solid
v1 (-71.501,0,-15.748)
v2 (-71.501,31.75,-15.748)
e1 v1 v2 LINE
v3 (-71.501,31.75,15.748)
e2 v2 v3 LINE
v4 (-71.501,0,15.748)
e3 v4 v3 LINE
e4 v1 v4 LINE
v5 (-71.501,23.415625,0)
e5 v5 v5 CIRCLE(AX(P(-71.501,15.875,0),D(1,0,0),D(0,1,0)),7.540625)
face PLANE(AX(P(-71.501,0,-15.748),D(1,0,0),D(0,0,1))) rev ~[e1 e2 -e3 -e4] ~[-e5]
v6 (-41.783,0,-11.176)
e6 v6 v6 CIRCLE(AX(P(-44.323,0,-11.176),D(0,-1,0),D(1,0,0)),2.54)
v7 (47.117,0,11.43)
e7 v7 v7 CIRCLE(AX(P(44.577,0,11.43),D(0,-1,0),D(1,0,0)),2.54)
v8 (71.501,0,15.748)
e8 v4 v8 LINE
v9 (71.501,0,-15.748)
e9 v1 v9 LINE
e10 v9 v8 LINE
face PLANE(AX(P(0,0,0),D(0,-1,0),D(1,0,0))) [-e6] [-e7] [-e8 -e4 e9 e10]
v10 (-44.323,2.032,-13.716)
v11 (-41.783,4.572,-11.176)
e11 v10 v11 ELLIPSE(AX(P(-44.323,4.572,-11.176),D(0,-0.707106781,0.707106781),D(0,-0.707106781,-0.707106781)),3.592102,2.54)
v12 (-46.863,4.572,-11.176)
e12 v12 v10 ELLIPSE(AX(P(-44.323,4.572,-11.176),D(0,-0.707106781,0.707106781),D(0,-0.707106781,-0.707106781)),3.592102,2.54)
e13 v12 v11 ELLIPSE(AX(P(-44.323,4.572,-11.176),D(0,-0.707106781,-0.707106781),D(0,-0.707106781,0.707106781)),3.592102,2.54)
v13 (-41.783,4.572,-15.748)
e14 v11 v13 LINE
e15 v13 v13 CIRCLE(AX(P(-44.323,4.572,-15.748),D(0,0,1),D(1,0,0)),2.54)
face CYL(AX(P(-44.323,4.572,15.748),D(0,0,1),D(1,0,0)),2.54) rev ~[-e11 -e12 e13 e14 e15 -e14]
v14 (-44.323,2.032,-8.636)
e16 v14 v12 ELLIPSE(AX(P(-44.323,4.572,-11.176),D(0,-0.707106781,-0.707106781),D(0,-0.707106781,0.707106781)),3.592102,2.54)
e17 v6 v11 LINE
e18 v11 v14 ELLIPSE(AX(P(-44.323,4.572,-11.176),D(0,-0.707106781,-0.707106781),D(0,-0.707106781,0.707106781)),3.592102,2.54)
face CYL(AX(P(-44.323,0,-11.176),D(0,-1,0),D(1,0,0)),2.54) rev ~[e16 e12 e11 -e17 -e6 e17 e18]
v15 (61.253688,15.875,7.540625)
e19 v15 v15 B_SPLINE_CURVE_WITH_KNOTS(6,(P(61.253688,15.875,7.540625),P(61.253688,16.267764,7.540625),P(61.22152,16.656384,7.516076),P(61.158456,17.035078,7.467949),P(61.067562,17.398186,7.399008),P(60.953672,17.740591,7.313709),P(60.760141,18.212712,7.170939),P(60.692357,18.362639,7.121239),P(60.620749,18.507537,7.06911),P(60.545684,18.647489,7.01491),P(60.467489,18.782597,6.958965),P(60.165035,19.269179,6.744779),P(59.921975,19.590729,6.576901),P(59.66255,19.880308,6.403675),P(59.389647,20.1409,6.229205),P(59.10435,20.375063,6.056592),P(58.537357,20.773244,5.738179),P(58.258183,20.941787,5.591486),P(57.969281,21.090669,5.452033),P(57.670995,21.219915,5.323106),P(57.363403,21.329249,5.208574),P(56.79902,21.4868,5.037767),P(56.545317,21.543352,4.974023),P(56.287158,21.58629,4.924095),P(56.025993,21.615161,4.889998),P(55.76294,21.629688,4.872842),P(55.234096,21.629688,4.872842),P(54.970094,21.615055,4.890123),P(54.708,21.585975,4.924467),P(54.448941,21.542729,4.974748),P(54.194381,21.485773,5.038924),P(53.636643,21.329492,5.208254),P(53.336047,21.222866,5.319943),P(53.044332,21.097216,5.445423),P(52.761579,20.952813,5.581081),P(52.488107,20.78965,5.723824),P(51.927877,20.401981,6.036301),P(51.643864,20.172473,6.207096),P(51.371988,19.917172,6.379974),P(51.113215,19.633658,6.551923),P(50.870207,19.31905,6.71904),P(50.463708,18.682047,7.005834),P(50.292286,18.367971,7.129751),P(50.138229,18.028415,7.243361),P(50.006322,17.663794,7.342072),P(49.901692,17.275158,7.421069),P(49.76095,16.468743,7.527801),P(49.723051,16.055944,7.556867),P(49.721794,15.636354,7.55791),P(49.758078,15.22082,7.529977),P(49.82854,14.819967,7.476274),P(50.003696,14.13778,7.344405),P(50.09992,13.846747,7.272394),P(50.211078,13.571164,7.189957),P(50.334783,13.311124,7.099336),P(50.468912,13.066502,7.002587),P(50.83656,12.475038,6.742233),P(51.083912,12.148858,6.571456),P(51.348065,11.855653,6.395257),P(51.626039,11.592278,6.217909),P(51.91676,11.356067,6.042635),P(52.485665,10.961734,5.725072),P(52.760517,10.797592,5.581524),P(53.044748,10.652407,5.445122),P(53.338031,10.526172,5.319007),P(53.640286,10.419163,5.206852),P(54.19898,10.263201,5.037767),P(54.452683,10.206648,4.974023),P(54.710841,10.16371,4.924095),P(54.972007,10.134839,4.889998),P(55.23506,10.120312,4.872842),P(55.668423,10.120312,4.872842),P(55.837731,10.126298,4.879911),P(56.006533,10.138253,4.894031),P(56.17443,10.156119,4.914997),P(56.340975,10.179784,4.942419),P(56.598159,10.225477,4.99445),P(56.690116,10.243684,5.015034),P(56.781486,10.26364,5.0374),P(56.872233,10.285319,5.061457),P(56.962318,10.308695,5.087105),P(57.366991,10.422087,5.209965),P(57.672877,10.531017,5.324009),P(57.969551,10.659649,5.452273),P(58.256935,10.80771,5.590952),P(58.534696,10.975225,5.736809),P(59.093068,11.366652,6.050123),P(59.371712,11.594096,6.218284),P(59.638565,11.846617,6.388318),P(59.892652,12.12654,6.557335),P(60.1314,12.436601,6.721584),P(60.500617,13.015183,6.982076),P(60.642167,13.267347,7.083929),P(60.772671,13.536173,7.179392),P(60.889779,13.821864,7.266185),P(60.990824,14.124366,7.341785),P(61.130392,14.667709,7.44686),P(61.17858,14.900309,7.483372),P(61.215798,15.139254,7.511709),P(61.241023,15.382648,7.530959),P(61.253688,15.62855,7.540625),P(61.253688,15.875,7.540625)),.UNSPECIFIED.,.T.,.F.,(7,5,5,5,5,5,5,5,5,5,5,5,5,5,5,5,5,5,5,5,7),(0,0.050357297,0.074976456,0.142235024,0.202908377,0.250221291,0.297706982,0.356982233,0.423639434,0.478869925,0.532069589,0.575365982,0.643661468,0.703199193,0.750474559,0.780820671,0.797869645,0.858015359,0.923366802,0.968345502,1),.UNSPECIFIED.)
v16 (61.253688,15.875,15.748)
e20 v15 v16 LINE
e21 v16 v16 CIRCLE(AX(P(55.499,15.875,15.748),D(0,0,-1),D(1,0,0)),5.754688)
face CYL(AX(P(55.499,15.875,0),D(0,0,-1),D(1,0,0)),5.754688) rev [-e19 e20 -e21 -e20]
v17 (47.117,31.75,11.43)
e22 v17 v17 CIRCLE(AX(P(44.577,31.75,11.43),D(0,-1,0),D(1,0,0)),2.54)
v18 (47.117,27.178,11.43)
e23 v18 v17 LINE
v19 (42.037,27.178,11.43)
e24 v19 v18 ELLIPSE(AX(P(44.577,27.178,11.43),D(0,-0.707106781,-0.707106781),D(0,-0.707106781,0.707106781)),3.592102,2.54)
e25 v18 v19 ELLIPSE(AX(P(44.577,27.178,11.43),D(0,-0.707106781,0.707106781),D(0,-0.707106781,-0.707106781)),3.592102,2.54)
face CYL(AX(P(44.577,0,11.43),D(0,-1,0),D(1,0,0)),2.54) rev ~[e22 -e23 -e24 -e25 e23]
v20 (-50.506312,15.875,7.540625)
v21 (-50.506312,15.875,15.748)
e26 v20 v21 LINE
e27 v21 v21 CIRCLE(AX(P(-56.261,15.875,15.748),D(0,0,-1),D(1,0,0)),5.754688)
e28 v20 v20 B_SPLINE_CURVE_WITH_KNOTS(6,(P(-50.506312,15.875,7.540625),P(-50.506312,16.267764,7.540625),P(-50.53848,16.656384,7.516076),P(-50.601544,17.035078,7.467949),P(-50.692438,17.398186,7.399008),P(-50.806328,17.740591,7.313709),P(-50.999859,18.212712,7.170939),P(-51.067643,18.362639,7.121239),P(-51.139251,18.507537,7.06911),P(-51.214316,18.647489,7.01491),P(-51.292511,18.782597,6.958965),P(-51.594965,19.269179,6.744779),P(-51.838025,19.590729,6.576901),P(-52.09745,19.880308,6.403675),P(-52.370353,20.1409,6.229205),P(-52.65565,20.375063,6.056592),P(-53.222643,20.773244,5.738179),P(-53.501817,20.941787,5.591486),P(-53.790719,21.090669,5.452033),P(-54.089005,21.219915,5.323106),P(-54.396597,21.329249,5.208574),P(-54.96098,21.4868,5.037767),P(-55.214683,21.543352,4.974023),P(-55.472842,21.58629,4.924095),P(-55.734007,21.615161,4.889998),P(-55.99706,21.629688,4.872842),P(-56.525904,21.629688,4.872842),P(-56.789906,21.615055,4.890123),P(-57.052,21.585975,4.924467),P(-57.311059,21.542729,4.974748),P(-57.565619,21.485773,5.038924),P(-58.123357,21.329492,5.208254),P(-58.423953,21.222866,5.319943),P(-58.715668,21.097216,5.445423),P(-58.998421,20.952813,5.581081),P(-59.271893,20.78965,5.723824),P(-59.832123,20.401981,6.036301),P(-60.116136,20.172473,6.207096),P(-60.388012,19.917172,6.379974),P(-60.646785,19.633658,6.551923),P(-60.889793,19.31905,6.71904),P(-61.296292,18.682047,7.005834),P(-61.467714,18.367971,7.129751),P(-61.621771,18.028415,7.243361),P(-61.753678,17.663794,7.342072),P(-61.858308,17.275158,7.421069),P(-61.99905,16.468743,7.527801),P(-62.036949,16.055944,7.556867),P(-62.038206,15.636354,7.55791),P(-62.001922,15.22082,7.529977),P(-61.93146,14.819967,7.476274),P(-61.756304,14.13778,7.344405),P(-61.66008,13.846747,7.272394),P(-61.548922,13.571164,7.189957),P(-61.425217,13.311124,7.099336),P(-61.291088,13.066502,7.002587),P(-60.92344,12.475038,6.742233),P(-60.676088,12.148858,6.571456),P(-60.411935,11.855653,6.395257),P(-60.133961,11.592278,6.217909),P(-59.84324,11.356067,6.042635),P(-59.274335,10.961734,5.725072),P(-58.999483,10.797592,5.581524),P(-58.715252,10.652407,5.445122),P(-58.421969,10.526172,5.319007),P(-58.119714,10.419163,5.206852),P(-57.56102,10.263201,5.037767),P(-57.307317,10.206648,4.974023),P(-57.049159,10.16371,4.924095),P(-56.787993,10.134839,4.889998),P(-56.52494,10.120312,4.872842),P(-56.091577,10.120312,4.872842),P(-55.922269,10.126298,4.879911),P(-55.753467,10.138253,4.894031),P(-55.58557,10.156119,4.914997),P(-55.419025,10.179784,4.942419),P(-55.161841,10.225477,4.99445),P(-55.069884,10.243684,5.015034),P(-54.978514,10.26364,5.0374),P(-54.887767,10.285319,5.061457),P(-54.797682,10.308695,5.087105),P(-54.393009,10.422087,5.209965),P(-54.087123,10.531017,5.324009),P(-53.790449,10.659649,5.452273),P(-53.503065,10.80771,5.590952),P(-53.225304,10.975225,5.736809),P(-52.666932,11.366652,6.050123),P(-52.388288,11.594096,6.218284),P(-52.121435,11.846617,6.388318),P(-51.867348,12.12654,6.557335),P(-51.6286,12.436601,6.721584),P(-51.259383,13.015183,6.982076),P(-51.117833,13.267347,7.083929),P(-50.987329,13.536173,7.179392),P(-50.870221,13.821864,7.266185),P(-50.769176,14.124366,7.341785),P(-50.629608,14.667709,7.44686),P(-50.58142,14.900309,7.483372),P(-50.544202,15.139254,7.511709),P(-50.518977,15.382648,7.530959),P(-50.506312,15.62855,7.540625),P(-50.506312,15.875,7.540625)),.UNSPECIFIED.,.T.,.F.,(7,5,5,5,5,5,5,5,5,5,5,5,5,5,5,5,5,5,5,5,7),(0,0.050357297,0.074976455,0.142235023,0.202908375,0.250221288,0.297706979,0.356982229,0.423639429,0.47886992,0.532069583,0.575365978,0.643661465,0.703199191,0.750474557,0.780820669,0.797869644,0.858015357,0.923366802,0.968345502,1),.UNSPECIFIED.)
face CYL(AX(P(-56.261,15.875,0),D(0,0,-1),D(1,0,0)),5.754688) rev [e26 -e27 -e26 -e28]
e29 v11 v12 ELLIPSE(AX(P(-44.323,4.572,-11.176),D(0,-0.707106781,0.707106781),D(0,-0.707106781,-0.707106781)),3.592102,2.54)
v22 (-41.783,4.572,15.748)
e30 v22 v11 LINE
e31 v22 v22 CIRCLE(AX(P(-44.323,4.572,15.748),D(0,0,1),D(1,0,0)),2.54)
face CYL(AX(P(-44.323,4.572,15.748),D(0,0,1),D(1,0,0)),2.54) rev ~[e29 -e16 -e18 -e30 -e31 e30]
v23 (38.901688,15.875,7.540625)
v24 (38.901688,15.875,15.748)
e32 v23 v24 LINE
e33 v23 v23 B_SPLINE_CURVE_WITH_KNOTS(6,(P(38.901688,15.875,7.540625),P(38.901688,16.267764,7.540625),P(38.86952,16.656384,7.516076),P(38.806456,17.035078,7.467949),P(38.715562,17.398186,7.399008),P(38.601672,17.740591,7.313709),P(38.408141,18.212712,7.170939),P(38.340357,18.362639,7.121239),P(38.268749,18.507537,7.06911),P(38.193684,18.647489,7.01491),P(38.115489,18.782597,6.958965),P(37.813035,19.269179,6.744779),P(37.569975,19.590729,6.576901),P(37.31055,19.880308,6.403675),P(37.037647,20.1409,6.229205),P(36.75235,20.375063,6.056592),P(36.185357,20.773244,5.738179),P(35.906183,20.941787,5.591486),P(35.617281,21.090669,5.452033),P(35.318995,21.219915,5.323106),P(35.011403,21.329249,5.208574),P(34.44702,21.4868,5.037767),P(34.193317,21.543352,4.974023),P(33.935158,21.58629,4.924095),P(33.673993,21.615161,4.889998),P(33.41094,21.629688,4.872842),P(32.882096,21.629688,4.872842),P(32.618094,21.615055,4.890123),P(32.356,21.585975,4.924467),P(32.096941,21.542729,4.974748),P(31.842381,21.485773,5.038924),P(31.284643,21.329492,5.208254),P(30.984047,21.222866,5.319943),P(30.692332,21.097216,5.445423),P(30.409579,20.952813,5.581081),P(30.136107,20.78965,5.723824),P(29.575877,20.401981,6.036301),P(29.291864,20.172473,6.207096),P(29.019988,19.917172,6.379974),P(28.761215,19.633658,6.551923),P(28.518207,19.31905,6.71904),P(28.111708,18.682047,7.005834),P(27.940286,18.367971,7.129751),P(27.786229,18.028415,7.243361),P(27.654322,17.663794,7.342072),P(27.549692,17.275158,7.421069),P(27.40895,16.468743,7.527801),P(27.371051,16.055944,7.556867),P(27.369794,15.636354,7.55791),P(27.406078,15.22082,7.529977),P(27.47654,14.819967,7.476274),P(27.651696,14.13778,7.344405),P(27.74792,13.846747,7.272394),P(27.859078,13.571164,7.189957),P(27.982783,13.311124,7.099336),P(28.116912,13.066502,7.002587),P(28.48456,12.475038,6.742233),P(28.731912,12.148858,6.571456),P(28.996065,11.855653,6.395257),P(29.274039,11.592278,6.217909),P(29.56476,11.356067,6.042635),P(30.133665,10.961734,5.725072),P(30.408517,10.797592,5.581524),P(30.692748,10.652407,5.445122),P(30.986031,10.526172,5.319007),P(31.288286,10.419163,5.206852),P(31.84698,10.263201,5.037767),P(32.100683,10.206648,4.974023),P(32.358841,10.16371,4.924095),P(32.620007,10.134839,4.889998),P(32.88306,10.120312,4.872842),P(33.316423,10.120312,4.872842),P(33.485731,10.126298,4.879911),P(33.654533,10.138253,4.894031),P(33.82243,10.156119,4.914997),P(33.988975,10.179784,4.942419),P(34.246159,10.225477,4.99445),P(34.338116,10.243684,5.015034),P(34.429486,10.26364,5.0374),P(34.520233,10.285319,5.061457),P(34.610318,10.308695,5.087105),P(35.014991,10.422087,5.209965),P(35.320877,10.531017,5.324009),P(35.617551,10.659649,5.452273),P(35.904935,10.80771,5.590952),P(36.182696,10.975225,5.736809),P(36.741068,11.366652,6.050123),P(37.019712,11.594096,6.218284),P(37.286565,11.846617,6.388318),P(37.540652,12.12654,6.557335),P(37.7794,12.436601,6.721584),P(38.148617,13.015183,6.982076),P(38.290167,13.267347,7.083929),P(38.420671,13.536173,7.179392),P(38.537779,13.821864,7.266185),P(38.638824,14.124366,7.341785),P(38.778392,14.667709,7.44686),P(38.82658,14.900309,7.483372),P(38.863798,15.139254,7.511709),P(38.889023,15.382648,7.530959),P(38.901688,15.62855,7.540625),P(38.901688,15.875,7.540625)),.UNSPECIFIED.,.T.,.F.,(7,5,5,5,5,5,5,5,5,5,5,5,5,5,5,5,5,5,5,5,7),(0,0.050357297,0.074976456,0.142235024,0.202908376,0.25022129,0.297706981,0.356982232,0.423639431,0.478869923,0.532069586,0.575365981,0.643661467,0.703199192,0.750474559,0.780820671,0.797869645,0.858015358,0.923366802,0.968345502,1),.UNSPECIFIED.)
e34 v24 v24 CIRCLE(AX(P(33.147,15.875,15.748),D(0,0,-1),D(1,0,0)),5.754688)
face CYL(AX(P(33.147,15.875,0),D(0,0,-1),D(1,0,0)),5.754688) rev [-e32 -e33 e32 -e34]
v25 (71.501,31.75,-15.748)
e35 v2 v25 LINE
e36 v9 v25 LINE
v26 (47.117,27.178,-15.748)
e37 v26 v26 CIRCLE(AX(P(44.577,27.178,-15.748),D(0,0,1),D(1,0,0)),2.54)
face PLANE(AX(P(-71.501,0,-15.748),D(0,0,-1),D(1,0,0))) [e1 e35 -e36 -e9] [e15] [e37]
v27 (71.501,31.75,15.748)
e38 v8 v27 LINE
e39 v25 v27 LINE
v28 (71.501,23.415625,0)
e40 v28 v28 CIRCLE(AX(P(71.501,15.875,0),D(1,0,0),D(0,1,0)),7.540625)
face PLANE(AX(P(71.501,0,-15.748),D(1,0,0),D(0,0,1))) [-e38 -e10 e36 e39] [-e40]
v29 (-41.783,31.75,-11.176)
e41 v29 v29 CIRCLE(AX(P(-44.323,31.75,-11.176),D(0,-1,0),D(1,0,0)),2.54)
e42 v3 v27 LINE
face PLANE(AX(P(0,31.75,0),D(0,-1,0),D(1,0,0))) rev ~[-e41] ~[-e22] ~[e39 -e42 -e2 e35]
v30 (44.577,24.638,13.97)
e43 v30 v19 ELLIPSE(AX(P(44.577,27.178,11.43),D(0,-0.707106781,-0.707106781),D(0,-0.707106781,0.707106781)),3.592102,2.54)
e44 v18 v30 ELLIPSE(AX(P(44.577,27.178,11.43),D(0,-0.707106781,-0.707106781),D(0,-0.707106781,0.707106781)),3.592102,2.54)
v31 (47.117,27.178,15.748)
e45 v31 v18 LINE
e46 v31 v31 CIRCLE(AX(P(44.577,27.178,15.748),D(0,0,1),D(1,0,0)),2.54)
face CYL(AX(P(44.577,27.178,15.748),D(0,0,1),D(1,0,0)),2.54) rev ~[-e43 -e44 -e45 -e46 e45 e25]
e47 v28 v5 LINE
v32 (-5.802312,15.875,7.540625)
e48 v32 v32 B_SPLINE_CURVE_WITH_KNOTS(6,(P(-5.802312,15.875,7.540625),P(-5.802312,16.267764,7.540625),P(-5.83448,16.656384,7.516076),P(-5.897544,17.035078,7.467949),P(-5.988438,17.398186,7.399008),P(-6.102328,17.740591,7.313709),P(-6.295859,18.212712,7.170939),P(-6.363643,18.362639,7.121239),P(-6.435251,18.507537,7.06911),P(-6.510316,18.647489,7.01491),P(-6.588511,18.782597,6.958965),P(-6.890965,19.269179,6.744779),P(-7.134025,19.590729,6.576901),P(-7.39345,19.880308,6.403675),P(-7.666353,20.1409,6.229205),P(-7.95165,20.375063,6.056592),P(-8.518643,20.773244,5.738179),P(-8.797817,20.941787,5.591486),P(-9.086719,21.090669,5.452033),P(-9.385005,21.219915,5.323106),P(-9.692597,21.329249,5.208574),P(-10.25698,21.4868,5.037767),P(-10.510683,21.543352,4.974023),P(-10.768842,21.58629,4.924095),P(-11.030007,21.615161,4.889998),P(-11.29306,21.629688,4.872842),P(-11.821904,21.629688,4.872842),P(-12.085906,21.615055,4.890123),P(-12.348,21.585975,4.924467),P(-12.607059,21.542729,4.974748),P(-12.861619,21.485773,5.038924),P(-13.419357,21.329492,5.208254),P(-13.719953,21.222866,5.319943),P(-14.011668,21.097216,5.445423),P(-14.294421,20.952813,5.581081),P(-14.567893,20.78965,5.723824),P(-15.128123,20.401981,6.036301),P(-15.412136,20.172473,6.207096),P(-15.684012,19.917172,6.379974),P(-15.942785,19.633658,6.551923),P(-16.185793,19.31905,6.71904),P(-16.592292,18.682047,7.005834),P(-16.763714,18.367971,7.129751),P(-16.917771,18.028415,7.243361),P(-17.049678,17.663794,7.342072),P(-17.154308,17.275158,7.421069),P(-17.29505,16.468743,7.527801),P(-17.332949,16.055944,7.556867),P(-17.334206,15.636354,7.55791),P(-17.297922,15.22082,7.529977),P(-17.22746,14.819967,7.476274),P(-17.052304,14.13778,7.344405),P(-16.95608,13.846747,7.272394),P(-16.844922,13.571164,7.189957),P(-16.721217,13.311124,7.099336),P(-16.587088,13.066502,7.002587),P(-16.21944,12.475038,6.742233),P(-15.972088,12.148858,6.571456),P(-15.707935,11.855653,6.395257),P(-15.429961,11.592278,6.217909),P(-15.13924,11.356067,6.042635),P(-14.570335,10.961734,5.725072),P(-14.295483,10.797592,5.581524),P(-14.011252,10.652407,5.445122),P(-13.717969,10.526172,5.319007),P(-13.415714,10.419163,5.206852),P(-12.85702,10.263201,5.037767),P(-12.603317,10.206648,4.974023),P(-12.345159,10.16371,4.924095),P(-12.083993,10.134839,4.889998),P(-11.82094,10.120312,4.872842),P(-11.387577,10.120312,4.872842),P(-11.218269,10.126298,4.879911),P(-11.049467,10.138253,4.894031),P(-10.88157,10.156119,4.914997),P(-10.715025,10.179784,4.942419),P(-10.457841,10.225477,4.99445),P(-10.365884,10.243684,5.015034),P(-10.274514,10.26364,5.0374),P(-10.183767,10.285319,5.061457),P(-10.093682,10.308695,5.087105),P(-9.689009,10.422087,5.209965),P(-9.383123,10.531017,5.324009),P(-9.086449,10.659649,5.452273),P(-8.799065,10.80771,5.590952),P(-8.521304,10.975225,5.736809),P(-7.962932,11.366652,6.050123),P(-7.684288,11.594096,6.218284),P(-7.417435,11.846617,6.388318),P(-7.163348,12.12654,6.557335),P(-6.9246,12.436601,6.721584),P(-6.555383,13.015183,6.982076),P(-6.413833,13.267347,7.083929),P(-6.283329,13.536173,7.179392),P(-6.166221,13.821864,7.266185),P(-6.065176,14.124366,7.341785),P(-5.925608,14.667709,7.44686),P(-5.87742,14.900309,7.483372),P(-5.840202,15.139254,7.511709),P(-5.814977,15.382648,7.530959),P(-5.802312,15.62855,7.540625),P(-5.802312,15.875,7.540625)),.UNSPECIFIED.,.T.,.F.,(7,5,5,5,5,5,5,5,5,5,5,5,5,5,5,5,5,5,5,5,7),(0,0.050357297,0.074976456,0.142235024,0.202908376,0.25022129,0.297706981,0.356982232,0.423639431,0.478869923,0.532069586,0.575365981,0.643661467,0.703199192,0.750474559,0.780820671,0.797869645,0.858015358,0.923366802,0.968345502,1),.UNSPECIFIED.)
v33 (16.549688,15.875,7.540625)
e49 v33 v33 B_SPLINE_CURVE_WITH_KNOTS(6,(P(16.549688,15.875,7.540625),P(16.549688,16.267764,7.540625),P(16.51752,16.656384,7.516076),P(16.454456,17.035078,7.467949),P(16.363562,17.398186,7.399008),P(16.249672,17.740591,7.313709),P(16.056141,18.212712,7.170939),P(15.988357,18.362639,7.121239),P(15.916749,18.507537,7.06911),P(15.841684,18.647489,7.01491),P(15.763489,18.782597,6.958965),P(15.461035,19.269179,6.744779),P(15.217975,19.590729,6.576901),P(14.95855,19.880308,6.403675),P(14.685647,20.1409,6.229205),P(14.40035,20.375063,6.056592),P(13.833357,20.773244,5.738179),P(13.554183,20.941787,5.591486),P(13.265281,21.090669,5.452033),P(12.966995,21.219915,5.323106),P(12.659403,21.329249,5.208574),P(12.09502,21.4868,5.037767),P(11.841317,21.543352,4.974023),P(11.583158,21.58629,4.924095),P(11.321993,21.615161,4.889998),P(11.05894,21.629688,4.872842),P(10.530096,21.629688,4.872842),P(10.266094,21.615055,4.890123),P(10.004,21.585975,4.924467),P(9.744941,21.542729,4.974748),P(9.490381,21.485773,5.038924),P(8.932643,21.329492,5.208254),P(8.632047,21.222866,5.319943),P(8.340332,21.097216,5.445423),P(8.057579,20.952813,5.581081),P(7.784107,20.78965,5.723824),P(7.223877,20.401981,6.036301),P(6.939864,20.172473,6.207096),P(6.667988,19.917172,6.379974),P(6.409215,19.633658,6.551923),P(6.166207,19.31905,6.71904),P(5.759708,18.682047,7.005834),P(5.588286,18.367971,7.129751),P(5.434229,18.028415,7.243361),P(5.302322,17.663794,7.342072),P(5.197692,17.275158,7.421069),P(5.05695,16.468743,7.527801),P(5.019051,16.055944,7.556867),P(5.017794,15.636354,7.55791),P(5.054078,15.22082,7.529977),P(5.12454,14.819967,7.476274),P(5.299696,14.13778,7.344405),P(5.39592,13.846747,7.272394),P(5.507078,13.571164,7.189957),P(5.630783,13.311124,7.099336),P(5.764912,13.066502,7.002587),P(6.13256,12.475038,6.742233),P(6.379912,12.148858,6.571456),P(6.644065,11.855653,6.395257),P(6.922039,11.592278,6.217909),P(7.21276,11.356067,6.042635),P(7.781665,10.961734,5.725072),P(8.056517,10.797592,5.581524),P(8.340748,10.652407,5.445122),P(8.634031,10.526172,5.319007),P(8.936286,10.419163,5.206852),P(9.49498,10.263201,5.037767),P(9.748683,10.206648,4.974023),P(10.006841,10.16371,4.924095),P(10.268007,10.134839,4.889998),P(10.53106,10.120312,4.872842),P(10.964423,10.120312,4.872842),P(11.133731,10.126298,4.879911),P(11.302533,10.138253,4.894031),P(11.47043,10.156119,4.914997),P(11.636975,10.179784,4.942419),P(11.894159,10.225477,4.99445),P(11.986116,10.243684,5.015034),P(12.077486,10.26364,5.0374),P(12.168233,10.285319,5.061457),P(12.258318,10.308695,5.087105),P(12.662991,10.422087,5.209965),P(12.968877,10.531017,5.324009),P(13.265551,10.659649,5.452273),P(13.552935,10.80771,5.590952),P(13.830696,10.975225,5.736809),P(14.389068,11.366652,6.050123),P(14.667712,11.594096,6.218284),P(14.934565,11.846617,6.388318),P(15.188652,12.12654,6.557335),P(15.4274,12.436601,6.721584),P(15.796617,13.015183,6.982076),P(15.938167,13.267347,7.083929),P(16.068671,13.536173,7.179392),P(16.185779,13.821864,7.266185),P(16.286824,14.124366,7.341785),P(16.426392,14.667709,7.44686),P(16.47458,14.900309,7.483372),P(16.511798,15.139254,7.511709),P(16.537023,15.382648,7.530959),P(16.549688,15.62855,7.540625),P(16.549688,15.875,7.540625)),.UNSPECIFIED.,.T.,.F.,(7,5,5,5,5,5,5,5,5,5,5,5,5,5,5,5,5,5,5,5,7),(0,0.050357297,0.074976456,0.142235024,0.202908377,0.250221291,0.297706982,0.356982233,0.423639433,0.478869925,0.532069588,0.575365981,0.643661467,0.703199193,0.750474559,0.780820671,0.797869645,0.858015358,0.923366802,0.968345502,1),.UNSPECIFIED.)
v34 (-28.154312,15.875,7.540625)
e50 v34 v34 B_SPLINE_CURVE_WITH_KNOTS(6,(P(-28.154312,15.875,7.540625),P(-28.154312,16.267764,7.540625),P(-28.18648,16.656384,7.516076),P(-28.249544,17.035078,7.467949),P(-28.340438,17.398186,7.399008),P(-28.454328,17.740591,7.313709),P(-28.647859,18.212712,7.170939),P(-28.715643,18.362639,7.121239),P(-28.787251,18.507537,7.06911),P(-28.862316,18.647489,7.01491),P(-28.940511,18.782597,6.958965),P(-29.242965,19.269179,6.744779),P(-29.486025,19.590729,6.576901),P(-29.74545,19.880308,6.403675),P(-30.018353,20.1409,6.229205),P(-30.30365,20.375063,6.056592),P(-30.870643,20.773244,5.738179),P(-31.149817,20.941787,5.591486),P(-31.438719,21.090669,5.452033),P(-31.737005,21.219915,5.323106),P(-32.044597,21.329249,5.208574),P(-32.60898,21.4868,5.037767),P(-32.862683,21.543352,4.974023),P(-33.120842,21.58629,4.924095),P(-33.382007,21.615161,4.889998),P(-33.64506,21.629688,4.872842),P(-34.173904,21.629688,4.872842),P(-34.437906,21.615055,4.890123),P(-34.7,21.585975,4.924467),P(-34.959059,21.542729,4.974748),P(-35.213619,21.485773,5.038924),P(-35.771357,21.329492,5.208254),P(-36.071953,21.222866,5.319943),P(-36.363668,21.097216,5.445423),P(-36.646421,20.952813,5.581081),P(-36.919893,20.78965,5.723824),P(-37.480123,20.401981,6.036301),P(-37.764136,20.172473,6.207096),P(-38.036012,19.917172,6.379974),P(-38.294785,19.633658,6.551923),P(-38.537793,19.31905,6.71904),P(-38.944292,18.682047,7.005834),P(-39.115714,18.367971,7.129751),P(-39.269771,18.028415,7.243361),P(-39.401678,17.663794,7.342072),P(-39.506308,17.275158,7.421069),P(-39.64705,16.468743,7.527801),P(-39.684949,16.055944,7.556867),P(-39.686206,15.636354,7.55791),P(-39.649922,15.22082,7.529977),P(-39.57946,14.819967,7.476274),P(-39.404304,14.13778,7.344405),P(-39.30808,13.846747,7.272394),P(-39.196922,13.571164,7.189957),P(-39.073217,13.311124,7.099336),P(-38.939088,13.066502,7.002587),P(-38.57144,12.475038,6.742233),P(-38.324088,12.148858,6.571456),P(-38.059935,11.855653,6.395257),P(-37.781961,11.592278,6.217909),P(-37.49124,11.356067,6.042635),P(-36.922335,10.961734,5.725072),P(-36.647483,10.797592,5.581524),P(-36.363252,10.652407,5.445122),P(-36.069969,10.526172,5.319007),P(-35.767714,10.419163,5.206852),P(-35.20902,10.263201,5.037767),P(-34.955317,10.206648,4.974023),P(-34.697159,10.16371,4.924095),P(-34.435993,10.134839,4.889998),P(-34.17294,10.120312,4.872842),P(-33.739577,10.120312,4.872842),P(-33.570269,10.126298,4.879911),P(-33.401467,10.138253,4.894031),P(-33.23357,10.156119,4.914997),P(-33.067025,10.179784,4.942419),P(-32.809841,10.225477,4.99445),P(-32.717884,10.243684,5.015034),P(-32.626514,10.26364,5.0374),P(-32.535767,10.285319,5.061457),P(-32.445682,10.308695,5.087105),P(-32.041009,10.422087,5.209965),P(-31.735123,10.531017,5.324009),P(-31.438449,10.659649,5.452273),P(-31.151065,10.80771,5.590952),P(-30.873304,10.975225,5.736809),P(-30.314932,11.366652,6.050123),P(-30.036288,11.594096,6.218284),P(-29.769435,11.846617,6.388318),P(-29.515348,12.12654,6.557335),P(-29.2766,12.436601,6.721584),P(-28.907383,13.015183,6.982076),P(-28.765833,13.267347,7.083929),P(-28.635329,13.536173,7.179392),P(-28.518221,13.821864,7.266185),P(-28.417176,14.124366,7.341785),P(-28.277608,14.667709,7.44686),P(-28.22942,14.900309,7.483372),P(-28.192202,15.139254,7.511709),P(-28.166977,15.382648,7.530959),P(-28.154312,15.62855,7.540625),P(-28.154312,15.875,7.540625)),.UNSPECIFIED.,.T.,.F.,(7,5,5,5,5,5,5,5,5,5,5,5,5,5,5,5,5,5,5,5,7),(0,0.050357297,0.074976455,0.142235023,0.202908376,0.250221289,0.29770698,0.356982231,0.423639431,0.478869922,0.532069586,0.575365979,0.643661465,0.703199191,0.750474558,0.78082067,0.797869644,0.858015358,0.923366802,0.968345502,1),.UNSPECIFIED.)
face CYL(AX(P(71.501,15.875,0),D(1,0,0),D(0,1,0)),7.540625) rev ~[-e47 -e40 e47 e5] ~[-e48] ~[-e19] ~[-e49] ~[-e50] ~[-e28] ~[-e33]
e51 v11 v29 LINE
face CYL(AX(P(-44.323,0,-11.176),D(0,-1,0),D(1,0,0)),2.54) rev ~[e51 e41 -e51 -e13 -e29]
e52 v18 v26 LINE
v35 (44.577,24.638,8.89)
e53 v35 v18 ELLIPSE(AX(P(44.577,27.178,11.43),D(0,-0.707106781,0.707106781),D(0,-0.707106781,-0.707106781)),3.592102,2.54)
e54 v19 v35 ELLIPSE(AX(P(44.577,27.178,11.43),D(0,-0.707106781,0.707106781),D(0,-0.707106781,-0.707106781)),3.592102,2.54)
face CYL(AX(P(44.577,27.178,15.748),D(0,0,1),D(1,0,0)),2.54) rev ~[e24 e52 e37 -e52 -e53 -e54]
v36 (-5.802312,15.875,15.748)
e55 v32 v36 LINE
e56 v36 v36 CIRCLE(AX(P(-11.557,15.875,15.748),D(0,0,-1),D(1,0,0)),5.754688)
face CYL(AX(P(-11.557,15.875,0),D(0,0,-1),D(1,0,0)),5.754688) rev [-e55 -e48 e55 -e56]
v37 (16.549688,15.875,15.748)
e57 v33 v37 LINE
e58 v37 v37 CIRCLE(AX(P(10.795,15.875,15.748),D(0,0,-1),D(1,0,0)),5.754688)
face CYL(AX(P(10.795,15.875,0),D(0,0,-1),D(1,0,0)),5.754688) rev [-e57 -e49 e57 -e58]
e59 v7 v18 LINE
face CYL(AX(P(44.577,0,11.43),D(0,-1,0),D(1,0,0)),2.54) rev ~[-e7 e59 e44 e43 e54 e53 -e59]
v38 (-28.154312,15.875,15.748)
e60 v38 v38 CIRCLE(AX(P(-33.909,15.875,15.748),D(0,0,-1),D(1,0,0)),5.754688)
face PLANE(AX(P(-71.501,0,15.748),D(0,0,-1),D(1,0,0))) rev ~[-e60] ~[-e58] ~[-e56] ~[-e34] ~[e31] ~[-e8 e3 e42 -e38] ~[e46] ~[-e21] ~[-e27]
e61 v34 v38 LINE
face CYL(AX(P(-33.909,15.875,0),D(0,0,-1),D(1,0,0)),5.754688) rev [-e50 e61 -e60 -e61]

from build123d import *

# Parameters (mm, degrees)
F0_W     = 143.002
F0_H     = 31.496
F1_DEPTH = 31.75
F2_R     = 5.754688
F3_DEPTH = 15.875
F4_R     = 7.540625
F5_DEPTH = 143.003
F6_R     = 2.54
F7_DEPTH = 31.751
F8_R     = 2.54
F9_DEPTH = 31.497


with BuildPart() as f1:
    # F0 (on Front) → F1 (new body)
    with BuildSketch(Plane.XZ):
        Rectangle(F0_W, F0_H)
    extrude(amount=-F1_DEPTH)

    # F2 (on Top) → F3 (cut)
    with BuildSketch(Plane.XY):
        with Locations((-56.261, 15.875)):
            Circle(F2_R)
        with Locations((-33.909, 15.875)):
            Circle(F2_R)
        with Locations((-11.557, 15.875)):
            Circle(F2_R)
        with Locations((10.795, 15.875)):
            Circle(F2_R)
        with Locations((33.147, 15.875)):
            Circle(F2_R)
        with Locations((55.499, 15.875)):
            Circle(F2_R)
    extrude(amount=F3_DEPTH, mode=Mode.SUBTRACT)

    # F4 (on face) → F5 (cut, through all)
    with BuildSketch(Plane.YZ.offset(71.501)):
        with Locations((15.875, 0)):
            Circle(F4_R)
    extrude(amount=-F5_DEPTH, mode=Mode.SUBTRACT)

    # F6 (on face) → F7 (cut, through all)
    with BuildSketch(Plane.XZ):
        with Locations((-44.323, -11.176)):
            Circle(F6_R)
        with Locations((44.577, 11.43)):
            Circle(F6_R)
    extrude(amount=-F7_DEPTH, mode=Mode.SUBTRACT)

    # F8 (on face) → F9 (cut, through all)
    with BuildSketch(Plane.XY.offset(15.748)):
        with Locations((44.577, 27.178)):
            Circle(F8_R)
        with Locations((-44.323, 4.572)):
            Circle(F8_R)
    extrude(amount=-F9_DEPTH, mode=Mode.SUBTRACT)


solid = f1.part
